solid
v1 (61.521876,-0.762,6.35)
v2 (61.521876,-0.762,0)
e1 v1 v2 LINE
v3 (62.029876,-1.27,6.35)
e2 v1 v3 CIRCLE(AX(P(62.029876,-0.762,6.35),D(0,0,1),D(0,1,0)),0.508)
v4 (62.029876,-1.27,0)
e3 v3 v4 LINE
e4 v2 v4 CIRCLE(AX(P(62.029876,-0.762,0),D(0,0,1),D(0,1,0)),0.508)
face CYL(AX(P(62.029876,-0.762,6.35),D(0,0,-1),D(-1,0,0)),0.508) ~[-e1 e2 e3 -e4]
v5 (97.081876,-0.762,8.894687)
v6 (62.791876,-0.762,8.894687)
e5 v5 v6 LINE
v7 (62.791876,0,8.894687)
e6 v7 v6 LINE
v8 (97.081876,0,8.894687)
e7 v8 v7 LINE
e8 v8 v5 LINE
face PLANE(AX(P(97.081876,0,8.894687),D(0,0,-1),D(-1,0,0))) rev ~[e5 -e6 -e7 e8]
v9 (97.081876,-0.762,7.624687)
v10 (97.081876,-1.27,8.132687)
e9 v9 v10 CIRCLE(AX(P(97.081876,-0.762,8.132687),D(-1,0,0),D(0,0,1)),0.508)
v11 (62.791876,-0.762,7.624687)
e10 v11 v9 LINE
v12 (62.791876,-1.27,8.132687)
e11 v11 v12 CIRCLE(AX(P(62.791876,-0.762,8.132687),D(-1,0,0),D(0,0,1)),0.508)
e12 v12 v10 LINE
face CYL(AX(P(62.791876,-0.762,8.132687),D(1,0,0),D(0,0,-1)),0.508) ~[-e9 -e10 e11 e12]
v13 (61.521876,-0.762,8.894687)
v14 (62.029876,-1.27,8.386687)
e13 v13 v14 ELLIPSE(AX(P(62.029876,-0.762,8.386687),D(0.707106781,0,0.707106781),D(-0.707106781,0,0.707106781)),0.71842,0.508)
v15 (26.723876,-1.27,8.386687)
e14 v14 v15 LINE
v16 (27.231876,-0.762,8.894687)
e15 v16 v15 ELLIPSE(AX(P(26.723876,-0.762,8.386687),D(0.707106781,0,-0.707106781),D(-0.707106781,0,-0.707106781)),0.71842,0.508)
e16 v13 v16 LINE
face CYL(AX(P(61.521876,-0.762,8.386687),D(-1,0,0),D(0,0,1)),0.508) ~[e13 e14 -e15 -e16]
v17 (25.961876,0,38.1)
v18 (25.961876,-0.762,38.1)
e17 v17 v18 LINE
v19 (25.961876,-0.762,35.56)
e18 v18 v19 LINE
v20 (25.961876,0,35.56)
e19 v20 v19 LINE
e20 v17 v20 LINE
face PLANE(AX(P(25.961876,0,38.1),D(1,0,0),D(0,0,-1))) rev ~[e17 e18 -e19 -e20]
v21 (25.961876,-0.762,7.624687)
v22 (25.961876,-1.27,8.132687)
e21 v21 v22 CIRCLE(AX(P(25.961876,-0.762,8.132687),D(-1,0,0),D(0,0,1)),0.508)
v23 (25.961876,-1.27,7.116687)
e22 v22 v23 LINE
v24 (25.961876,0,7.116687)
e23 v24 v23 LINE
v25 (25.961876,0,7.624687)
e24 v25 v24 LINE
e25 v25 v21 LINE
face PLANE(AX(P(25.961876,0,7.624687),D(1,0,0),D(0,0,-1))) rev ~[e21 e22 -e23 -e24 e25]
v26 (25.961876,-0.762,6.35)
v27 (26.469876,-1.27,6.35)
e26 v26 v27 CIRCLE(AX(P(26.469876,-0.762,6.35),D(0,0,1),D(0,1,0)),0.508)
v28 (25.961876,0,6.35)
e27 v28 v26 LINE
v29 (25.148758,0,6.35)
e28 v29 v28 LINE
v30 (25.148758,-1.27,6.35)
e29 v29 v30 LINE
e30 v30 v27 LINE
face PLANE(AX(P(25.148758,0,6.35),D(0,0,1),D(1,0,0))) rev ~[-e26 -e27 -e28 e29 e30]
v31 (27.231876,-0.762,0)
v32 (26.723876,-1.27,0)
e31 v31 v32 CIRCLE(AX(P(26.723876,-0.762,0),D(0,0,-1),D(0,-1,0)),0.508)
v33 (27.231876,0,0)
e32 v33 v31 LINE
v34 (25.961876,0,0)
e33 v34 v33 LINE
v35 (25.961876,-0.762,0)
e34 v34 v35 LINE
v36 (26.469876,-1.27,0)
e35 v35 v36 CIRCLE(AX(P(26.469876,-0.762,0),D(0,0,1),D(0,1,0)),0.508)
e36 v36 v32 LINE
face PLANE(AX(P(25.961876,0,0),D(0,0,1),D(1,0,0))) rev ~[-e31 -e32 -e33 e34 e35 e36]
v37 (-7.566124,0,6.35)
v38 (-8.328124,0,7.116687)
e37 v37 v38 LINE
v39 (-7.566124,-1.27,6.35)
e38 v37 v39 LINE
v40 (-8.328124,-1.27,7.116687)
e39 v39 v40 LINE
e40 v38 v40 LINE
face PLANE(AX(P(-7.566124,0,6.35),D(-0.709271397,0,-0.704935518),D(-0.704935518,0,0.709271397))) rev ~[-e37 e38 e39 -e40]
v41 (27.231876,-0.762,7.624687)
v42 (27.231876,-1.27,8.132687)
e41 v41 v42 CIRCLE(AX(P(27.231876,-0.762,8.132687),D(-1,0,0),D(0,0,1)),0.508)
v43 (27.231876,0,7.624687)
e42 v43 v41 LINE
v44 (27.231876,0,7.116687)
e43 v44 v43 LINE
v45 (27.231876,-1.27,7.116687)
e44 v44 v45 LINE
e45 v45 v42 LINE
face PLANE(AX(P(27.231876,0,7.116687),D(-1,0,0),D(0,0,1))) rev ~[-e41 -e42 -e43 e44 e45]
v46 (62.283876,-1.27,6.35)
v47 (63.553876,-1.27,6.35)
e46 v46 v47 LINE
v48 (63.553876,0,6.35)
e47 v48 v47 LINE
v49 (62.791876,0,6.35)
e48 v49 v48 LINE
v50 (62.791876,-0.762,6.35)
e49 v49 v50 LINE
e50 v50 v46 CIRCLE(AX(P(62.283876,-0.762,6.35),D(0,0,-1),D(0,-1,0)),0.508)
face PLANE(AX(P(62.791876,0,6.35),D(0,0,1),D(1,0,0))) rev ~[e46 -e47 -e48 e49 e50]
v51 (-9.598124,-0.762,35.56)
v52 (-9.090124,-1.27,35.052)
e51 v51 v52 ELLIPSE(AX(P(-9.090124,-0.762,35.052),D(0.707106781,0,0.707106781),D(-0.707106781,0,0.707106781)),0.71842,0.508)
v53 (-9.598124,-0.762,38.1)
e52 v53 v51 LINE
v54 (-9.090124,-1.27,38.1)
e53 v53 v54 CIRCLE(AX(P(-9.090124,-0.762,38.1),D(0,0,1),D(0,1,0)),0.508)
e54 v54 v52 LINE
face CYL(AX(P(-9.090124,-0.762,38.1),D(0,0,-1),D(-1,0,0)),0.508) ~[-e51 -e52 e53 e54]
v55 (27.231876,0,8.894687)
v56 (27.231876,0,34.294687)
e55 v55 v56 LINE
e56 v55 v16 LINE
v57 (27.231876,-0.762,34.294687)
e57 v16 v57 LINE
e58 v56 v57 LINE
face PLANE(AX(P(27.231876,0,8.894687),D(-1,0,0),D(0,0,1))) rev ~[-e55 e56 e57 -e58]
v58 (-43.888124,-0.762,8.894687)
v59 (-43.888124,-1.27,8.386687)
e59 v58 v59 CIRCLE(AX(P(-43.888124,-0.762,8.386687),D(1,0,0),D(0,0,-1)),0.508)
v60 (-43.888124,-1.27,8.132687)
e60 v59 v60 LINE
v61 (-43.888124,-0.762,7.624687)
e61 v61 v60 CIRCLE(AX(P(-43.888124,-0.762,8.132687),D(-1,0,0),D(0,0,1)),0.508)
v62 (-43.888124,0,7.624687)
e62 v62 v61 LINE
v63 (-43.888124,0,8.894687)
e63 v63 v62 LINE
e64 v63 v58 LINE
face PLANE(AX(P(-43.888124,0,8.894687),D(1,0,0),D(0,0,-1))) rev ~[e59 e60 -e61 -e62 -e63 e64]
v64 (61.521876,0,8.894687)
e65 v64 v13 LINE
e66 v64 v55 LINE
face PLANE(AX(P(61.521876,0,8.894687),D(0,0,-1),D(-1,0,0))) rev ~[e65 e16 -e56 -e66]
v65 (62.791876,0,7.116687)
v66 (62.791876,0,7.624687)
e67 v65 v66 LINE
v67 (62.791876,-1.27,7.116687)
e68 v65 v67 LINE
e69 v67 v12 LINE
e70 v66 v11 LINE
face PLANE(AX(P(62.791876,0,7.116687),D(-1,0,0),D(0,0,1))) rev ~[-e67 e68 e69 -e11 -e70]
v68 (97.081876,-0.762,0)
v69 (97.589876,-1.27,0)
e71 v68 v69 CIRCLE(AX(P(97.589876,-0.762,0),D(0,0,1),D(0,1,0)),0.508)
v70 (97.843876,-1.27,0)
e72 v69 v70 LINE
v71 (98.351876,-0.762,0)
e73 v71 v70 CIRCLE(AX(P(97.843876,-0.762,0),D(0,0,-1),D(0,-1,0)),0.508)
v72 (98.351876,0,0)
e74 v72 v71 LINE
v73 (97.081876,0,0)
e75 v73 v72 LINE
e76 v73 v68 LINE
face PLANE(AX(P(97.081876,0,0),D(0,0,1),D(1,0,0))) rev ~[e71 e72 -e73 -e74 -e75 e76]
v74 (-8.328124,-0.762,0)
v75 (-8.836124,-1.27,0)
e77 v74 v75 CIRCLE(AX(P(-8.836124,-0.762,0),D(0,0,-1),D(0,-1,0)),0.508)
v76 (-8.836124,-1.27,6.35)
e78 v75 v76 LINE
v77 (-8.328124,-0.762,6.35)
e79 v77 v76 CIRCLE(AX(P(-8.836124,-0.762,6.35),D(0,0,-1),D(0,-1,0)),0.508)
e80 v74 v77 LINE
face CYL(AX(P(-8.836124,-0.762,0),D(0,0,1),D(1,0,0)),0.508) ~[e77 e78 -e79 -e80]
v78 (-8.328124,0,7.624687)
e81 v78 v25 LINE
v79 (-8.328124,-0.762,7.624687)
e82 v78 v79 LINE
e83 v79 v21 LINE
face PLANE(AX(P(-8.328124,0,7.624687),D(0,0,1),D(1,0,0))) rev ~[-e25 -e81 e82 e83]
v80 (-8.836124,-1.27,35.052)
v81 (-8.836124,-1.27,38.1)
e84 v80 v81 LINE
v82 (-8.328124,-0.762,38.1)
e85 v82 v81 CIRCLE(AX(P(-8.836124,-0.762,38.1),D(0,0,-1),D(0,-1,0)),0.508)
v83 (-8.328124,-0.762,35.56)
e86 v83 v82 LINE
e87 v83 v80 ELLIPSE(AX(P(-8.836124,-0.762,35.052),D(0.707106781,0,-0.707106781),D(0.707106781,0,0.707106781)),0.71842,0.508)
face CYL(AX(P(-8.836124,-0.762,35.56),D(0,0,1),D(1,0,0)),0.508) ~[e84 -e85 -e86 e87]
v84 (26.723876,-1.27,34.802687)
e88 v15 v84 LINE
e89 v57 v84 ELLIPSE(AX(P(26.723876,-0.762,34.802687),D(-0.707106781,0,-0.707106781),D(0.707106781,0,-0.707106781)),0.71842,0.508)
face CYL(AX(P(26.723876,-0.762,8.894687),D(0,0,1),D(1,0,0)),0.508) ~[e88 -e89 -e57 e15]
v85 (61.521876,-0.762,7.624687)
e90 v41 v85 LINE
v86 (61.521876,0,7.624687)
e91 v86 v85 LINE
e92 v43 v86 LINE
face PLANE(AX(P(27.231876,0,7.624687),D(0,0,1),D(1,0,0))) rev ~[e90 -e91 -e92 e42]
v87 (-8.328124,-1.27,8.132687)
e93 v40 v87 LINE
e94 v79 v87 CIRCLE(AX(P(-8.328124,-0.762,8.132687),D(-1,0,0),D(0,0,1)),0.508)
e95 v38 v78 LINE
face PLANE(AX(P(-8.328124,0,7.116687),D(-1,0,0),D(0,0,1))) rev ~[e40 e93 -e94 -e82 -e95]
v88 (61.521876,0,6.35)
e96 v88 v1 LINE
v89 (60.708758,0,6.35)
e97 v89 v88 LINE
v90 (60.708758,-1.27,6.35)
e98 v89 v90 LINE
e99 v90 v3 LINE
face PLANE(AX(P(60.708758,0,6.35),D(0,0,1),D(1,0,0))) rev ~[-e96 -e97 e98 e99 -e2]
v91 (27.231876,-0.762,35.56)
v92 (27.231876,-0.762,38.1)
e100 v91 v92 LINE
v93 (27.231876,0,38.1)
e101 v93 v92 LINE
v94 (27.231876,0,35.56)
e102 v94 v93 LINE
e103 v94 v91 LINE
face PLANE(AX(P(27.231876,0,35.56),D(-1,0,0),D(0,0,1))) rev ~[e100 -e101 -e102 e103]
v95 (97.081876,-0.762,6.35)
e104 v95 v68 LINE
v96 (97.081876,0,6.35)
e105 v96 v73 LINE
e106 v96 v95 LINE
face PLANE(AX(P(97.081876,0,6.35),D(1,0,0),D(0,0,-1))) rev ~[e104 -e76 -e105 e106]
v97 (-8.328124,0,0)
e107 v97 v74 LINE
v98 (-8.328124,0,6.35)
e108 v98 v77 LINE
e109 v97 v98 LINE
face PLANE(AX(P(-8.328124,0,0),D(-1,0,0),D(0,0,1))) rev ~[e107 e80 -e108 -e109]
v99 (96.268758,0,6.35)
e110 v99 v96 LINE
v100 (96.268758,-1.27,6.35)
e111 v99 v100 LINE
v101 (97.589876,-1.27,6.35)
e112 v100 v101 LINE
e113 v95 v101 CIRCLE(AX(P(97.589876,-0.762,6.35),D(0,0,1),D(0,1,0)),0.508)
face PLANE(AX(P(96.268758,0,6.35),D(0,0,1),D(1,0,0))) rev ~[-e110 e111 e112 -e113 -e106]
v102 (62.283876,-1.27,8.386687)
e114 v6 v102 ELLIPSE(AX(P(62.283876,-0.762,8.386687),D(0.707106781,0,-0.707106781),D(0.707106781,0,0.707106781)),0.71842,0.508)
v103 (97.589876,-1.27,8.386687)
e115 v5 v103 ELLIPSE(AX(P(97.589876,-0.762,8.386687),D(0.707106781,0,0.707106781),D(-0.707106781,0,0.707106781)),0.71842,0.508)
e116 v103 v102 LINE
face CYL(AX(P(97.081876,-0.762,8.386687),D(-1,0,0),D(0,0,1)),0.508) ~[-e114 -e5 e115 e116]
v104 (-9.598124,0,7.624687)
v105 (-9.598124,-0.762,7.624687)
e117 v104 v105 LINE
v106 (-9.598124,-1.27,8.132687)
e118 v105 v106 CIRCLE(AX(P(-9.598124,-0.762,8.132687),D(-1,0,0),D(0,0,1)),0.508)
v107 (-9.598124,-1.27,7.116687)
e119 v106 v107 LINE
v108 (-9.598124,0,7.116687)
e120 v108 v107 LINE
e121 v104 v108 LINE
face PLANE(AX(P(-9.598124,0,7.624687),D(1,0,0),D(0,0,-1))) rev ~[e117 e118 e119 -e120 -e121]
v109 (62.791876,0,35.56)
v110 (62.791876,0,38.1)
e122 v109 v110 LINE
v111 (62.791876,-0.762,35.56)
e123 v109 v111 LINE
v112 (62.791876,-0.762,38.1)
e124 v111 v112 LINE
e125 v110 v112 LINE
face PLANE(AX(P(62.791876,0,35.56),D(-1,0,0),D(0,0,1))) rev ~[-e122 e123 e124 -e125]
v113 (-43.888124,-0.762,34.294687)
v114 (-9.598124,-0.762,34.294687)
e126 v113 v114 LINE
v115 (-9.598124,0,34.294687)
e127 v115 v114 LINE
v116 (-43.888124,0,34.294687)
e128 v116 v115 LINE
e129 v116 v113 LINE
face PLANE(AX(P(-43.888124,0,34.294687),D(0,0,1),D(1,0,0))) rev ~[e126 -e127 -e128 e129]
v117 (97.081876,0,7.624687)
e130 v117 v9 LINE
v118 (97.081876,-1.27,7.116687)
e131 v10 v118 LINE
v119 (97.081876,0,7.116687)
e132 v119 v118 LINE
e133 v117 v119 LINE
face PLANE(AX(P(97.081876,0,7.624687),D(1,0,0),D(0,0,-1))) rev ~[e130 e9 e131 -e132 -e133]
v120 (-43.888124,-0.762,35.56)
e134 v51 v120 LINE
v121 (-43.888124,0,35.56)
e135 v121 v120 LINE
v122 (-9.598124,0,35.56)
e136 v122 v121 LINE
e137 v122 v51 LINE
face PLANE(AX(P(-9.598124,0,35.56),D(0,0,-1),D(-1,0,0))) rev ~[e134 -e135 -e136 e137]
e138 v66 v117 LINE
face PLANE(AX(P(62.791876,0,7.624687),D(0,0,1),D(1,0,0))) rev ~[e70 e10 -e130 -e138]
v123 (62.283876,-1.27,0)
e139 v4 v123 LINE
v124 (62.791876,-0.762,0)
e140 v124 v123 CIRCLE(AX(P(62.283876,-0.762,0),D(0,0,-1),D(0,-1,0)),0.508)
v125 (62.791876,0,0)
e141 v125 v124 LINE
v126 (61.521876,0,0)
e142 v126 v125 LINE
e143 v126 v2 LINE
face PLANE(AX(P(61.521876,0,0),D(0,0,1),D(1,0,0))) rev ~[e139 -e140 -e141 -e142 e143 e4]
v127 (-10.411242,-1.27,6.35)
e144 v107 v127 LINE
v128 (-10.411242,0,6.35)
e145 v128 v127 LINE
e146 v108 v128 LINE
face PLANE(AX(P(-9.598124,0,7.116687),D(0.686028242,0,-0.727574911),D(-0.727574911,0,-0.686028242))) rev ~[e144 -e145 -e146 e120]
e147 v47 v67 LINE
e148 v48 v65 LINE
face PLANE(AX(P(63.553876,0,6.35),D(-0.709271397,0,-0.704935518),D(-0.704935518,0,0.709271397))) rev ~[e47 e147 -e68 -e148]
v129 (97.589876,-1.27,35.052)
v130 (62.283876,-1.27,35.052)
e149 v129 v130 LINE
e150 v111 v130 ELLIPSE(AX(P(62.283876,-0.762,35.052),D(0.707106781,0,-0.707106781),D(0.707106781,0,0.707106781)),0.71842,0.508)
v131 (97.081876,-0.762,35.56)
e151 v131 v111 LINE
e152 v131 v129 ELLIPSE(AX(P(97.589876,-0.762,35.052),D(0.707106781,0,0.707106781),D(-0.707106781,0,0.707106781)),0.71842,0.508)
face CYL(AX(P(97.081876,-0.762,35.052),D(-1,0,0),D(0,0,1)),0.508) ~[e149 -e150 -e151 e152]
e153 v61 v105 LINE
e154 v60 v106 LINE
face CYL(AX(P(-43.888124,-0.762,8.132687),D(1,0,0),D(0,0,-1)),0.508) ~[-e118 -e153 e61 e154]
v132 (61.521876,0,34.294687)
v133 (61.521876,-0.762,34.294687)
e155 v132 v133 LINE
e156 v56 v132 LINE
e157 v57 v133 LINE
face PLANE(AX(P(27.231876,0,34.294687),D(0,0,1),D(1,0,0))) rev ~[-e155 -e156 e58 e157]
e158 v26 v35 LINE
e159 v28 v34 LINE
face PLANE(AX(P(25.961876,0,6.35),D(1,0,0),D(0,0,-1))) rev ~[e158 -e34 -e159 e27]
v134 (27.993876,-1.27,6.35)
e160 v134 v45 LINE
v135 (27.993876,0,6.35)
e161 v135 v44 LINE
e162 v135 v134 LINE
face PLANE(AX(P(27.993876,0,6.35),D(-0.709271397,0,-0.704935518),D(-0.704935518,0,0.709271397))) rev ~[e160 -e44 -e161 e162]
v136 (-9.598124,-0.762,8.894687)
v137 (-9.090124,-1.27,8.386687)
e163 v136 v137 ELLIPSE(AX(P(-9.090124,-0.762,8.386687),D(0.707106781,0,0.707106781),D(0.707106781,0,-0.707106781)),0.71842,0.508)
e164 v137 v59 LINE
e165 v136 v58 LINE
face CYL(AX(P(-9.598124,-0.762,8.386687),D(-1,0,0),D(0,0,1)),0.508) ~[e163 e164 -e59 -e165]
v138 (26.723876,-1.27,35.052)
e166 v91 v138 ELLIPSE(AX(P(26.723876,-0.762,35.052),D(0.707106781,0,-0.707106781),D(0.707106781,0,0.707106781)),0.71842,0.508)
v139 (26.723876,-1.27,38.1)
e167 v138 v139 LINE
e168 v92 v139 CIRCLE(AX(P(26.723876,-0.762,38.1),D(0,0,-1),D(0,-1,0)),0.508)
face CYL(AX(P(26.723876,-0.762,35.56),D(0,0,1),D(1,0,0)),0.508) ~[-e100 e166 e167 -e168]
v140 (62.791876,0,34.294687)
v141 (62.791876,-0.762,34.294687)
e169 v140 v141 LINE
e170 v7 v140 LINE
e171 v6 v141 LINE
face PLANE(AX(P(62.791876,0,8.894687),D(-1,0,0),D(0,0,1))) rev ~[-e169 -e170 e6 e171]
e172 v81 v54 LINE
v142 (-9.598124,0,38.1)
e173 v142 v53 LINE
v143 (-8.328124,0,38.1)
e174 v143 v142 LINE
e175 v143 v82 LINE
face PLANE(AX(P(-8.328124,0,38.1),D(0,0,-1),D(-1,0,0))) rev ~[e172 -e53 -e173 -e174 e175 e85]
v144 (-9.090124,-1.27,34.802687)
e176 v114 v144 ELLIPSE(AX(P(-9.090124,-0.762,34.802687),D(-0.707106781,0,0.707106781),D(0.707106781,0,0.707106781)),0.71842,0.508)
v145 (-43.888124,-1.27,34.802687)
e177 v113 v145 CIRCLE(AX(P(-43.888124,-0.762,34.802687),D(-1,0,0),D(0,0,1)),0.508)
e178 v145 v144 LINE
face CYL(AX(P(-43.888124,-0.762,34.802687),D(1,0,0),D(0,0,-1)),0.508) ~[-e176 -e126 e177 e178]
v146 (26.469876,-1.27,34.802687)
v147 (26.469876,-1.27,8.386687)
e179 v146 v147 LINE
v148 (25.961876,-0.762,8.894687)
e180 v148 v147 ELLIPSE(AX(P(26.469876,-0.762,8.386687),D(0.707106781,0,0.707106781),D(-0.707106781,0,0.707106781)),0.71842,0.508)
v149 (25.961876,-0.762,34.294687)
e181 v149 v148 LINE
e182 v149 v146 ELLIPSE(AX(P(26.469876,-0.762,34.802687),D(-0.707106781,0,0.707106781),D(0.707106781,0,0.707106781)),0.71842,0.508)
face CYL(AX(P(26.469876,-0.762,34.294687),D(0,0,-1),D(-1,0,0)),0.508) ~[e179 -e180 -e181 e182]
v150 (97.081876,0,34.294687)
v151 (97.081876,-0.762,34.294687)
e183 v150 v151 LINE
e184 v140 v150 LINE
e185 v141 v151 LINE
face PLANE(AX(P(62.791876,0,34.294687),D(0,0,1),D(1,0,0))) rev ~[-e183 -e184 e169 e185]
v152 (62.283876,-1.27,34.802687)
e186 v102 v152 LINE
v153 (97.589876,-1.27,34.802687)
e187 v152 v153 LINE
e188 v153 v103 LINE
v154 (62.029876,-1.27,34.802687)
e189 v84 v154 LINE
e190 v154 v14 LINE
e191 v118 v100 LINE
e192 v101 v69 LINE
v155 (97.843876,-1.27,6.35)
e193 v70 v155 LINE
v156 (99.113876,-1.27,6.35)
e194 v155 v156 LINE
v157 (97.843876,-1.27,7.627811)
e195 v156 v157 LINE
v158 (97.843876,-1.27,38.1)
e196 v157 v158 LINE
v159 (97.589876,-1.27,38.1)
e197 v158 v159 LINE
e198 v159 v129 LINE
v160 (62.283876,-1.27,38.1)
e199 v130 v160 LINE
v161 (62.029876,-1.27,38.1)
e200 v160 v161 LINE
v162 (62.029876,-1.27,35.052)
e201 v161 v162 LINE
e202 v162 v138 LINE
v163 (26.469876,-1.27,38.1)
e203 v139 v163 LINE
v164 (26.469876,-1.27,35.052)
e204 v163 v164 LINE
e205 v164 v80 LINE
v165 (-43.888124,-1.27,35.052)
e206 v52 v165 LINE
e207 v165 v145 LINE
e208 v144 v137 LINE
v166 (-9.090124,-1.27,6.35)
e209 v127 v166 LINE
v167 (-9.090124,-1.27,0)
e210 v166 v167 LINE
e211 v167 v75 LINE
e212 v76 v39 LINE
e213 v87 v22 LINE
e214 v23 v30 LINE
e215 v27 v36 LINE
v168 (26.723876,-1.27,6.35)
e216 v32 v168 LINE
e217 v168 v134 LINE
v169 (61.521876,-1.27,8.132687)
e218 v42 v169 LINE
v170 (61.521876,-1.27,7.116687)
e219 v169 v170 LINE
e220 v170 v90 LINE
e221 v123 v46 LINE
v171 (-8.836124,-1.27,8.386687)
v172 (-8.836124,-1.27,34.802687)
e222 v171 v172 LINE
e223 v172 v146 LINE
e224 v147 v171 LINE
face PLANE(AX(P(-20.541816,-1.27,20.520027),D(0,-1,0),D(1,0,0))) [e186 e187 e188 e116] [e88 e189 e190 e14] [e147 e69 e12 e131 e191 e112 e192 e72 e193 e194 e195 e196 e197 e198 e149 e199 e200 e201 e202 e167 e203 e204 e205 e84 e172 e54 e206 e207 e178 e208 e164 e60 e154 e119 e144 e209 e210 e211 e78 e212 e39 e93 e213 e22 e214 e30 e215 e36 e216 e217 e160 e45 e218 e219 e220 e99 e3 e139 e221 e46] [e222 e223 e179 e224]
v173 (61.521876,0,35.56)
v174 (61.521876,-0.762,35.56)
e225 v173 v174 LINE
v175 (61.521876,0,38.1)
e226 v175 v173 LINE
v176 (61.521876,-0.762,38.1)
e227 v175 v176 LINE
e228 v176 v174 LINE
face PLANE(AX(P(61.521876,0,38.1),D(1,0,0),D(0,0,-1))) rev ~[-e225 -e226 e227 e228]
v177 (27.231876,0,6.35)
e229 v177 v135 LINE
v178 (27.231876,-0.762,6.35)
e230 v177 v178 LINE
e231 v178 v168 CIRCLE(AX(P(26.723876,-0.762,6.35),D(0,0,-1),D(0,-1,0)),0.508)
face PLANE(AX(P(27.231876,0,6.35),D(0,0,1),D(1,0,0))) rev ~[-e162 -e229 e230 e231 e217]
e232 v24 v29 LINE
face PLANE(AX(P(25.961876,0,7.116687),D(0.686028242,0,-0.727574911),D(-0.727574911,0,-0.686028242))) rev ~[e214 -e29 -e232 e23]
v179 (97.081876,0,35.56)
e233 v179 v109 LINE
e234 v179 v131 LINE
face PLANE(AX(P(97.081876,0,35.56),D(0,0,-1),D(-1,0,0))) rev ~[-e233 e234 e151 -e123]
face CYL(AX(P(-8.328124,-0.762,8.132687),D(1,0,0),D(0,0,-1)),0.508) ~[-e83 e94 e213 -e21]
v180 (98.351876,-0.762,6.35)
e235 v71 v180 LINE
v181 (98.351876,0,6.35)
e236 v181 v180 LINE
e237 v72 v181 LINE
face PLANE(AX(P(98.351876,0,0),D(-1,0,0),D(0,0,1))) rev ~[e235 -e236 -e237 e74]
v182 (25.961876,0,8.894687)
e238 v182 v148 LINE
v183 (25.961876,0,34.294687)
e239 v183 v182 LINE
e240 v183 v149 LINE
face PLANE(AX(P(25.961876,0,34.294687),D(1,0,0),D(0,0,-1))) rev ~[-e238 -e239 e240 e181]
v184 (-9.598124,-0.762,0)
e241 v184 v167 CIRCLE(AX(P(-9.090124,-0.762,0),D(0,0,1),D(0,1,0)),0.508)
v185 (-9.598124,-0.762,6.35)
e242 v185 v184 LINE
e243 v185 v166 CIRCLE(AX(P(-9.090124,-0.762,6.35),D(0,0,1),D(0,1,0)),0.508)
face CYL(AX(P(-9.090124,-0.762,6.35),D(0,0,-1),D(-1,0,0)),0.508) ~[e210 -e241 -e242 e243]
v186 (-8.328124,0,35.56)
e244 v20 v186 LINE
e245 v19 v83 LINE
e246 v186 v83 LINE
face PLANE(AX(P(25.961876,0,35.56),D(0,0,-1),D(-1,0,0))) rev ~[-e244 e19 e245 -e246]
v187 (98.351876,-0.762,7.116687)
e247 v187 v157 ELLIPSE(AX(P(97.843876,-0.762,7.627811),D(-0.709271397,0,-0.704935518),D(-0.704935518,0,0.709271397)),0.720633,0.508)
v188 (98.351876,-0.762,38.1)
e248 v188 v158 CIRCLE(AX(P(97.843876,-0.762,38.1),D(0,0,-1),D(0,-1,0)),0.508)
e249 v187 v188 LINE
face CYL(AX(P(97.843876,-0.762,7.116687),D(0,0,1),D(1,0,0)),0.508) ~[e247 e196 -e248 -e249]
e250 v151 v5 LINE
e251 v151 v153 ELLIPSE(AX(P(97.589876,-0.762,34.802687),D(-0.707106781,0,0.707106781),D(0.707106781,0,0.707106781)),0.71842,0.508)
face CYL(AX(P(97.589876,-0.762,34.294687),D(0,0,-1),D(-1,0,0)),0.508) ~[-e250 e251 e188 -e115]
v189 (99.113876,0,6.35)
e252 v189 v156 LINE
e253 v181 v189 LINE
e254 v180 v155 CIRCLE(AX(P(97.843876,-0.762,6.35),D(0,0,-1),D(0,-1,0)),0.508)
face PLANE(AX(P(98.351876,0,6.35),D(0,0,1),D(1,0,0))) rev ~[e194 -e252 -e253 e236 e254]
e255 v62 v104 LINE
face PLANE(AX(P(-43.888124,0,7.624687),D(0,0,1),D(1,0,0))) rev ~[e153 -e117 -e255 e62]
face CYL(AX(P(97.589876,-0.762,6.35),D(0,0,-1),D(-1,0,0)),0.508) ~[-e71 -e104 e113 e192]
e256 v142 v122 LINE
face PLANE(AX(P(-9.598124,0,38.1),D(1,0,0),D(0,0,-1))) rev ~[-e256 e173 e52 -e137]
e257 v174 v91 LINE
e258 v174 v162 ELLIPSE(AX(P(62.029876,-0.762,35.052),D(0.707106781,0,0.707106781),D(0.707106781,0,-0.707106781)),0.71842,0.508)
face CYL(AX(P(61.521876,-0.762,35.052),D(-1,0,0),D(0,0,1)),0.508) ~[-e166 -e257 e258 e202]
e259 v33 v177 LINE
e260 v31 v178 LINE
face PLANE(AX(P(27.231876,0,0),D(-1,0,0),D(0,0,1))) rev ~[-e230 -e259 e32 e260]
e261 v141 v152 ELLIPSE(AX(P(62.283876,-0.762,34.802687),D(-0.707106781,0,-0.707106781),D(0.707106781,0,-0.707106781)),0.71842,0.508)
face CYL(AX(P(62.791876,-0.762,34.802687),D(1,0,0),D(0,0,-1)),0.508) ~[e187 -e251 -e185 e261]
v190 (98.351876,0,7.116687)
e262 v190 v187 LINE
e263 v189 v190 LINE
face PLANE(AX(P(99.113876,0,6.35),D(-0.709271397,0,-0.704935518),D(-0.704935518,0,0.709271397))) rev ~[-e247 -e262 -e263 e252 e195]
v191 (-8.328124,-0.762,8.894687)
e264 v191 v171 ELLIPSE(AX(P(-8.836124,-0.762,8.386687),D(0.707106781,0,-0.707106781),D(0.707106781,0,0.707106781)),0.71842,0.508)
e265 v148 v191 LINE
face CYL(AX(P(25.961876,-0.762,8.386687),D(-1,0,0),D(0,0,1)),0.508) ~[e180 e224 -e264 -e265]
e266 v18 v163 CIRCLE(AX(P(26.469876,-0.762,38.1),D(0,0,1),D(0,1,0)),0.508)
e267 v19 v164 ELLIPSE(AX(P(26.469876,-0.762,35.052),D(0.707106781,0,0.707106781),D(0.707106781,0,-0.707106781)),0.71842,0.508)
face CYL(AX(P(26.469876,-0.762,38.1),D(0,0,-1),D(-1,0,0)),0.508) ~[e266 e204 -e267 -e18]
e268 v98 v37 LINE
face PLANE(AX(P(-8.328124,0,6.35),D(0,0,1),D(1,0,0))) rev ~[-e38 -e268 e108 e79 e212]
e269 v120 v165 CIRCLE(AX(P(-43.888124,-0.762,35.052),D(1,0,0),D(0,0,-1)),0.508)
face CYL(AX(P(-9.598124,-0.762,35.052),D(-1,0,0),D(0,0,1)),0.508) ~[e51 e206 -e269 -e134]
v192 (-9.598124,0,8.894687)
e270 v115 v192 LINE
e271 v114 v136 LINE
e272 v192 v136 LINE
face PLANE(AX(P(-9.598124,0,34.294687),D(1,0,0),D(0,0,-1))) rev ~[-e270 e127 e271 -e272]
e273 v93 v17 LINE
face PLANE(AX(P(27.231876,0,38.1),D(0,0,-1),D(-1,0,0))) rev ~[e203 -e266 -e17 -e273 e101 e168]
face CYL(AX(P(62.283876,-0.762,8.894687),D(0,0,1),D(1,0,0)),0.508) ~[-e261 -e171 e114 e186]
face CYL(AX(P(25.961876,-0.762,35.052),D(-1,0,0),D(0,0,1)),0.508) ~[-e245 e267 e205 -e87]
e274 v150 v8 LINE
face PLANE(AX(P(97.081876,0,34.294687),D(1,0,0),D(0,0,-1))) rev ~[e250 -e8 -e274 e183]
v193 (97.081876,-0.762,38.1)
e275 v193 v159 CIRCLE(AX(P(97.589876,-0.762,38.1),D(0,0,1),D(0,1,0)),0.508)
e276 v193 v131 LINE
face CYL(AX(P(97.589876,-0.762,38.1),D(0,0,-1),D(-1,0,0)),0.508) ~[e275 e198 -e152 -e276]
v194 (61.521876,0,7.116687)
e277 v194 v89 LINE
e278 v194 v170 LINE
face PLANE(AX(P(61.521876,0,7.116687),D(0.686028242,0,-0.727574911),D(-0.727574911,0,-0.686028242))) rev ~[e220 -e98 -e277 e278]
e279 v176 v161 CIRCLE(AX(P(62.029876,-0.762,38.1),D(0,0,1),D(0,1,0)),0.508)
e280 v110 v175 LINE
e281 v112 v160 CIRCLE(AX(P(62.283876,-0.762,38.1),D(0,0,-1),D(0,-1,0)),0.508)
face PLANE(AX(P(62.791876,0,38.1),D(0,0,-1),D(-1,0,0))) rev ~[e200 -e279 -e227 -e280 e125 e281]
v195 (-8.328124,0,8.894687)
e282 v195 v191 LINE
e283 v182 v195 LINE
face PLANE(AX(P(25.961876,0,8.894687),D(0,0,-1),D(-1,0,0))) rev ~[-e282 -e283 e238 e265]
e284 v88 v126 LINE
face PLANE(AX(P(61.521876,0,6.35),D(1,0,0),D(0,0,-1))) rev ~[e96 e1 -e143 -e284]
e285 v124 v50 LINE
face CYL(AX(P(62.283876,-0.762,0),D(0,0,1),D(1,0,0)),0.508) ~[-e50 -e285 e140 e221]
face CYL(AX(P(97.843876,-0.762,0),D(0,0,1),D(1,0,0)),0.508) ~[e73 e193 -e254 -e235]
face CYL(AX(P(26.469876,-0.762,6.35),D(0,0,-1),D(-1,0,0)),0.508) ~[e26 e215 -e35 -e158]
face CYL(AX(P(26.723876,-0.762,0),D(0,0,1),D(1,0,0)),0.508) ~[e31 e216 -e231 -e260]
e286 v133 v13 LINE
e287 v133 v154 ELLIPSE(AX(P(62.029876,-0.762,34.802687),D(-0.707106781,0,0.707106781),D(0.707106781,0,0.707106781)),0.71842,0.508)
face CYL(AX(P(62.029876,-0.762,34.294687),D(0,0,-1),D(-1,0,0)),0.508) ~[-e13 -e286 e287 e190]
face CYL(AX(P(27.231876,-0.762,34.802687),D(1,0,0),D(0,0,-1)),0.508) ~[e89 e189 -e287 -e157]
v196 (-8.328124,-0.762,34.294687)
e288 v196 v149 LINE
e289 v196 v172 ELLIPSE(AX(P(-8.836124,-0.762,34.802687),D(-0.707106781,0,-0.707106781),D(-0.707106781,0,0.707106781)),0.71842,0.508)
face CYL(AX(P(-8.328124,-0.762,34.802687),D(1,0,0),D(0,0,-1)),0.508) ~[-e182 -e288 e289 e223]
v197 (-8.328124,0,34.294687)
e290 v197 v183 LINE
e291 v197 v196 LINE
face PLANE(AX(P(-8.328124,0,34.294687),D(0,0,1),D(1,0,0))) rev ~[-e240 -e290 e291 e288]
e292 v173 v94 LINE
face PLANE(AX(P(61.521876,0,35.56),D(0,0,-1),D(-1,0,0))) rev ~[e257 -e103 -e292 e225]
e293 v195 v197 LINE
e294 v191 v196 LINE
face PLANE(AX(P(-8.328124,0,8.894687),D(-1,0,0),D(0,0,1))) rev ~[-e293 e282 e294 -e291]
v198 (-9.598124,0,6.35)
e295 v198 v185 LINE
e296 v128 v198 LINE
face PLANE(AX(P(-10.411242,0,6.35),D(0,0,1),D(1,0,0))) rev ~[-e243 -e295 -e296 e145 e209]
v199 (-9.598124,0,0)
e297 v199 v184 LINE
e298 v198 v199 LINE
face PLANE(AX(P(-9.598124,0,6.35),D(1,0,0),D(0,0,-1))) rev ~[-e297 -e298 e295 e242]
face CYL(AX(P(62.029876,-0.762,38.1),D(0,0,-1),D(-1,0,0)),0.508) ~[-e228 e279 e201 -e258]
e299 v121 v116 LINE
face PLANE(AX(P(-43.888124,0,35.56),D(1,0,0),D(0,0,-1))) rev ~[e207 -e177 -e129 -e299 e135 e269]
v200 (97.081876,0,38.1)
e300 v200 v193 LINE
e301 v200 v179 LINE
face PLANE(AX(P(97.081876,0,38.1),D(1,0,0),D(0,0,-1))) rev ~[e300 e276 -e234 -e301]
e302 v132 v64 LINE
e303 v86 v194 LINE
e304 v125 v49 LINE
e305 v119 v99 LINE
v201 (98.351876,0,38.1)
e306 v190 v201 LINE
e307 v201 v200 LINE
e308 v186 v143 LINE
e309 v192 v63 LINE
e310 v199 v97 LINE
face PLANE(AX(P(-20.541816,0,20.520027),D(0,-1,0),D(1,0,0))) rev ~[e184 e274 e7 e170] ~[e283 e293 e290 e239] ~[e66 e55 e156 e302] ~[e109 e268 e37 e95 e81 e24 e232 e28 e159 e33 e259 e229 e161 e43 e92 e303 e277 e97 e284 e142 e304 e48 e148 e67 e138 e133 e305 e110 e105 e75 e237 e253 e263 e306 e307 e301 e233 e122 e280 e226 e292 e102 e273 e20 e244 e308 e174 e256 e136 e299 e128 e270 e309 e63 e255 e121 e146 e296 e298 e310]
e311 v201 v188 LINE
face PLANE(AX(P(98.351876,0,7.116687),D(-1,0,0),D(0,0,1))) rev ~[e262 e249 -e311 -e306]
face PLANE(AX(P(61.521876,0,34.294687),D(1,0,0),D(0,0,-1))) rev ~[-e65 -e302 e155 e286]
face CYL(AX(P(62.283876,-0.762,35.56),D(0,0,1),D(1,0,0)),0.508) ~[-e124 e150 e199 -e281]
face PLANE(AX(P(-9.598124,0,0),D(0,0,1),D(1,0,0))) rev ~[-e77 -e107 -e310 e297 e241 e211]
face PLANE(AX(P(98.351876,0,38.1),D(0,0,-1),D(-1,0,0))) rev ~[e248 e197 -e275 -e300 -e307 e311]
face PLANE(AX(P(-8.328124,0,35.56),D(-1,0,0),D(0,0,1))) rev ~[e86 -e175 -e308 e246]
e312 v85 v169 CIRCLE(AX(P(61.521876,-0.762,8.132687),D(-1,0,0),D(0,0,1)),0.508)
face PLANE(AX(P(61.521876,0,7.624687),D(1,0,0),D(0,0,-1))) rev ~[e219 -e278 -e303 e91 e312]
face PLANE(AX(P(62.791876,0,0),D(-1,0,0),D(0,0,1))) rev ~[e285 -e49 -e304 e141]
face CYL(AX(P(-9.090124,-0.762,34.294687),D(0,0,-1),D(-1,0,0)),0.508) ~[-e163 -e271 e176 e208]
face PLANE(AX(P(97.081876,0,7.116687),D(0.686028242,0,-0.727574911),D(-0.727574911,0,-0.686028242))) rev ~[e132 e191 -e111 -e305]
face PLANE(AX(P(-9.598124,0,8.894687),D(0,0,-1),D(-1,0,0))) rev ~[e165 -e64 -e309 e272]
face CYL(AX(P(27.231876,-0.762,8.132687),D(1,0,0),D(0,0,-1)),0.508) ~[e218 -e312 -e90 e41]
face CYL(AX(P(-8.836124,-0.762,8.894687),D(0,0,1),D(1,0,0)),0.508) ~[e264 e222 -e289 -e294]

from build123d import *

# Parameters (mm, degrees)
F1_DEPTH = 1.27
F2_R     = 0.508


with BuildPart() as f1:
    # F0 (on Front) → F1 (new body)
    with BuildSketch(Plane.XZ):
        Polygon((-8.3281235051, 34.2946868681), (-8.3281235051, 35.56), (-8.3281235051, 38.1), (-9.5981235051, 38.1), (-9.5981235051, 35.56), (-43.8881235051, 35.56), (-43.8881235051, 34.2946868681), (-9.5981235051, 34.2946868681), (-9.5981235051, 8.8946868681), (-43.8881235051, 8.8946868681), (-43.8881235051, 7.6246868681), (-9.5981235051, 7.6246868681), (-9.5981235051, 7.1166868681), (-10.4112418222, 6.35), (-9.5981235051, 6.35), (-9.5981235051, 0), (-8.3281235051, 0), (-8.3281235051, 6.35), (-7.5661235051, 6.35), (-8.3281235051, 7.1166868681), (-8.3281235051, 7.6246868681), (-8.3281235051, 8.8946868681), align=None)
        Polygon((27.2318764949, 34.2946868681), (27.2318764949, 35.56), (27.2318764949, 38.1), (25.9618764949, 38.1), (25.9618764949, 35.56), (-8.3281235051, 35.56), (-8.3281235051, 34.2946868681), (25.9618764949, 34.2946868681), (25.9618764949, 8.8946868681), (-8.3281235051, 8.8946868681), (-8.3281235051, 7.6246868681), (25.9618764949, 7.6246868681), (25.9618764949, 7.1166868681), (25.1487581778, 6.35), (25.9618764949, 6.35), (25.9618764949, 0), (27.2318764949, 0), (27.2318764949, 6.35), (27.9938764949, 6.35), (27.2318764949, 7.1166868681), (27.2318764949, 7.6246868681), (27.2318764949, 8.8946868681), align=None)
        Polygon((62.7918764949, 34.2946868681), (62.7918764949, 35.56), (62.7918764949, 38.1), (61.5218764949, 38.1), (61.5218764949, 35.56), (27.2318764949, 35.56), (27.2318764949, 34.2946868681), (61.5218764949, 34.2946868681), (61.5218764949, 8.8946868681), (27.2318764949, 8.8946868681), (27.2318764949, 7.6246868681), (61.5218764949, 7.6246868681), (61.5218764949, 7.1166868681), (60.7087581778, 6.35), (61.5218764949, 6.35), (61.5218764949, 0), (62.7918764949, 0), (62.7918764949, 6.35), (63.5538764949, 6.35), (62.7918764949, 7.1166868681), (62.7918764949, 7.6246868681), (62.7918764949, 8.8946868681), align=None)
        Polygon((98.3518764949, 7.1166868681), (98.3518764949, 38.1), (97.0818764949, 38.1), (97.0818764949, 35.56), (62.7918764949, 35.56), (62.7918764949, 34.2946868681), (97.0818764949, 34.2946868681), (97.0818764949, 8.8946868681), (62.7918764949, 8.8946868681), (62.7918764949, 7.6246868681), (97.0818764949, 7.6246868681), (97.0818764949, 7.1166868681), (96.2687581778, 6.35), (97.0818764949, 6.35), (97.0818764949, 0), (98.3518764949, 0), (98.3518764949, 6.35), (99.1138764949, 6.35), align=None)
    extrude(amount=F1_DEPTH)

    # F2
    f2_edges = [f1.edges().sort_by_distance(p)[0] for p in [
        (-26.743124, -1.27, 34.294687),
        (-26.743124, -1.27, 35.56),
        (-9.598124, -1.27, 21.594687),
        (-8.328124, -1.27, 21.594687),
        (-26.743124, -1.27, 8.894687),
        (-26.743124, -1.27, 7.624687),
        (-9.598124, -1.27, 36.83),
        (25.961876, -1.27, 36.83),
        (61.521876, -1.27, 36.83),
        (27.231876, -1.27, 36.83),
        (-8.328124, -1.27, 36.83),
        (8.816876, -1.27, 35.56),
        (8.816876, -1.27, 34.294687),
        (8.816876, -1.27, 8.894687),
        (8.816876, -1.27, 7.624687),
        (-8.328124, -1.27, 3.175),
        (27.231876, -1.27, 3.175),
        (62.791876, -1.27, 3.175),
        (44.376876, -1.27, 7.624687),
        (44.376876, -1.27, 8.894687),
        (44.376876, -1.27, 34.294687),
        (44.376876, -1.27, 35.56),
        (62.791876, -1.27, 36.83),
        (79.936876, -1.27, 35.56),
        (79.936876, -1.27, 34.294687),
        (62.791876, -1.27, 21.594687),
        (61.521876, -1.27, 21.594687),
        (79.936876, -1.27, 8.894687),
        (79.936876, -1.27, 7.624687),
        (61.521876, -1.27, 3.175),
        (25.961876, -1.27, 3.175),
        (27.231876, -1.27, 21.594687),
        (25.961876, -1.27, 21.594687),
        (-9.598124, -1.27, 3.175),
        (97.081876, -1.27, 36.83),
        (97.081876, -1.27, 21.594687),
        (98.351876, -1.27, 3.175),
        (98.351876, -1.27, 22.608343),
        (97.081876, -1.27, 3.175),
    ]]
    fillet(f2_edges, radius=F2_R)


solid = f1.part
